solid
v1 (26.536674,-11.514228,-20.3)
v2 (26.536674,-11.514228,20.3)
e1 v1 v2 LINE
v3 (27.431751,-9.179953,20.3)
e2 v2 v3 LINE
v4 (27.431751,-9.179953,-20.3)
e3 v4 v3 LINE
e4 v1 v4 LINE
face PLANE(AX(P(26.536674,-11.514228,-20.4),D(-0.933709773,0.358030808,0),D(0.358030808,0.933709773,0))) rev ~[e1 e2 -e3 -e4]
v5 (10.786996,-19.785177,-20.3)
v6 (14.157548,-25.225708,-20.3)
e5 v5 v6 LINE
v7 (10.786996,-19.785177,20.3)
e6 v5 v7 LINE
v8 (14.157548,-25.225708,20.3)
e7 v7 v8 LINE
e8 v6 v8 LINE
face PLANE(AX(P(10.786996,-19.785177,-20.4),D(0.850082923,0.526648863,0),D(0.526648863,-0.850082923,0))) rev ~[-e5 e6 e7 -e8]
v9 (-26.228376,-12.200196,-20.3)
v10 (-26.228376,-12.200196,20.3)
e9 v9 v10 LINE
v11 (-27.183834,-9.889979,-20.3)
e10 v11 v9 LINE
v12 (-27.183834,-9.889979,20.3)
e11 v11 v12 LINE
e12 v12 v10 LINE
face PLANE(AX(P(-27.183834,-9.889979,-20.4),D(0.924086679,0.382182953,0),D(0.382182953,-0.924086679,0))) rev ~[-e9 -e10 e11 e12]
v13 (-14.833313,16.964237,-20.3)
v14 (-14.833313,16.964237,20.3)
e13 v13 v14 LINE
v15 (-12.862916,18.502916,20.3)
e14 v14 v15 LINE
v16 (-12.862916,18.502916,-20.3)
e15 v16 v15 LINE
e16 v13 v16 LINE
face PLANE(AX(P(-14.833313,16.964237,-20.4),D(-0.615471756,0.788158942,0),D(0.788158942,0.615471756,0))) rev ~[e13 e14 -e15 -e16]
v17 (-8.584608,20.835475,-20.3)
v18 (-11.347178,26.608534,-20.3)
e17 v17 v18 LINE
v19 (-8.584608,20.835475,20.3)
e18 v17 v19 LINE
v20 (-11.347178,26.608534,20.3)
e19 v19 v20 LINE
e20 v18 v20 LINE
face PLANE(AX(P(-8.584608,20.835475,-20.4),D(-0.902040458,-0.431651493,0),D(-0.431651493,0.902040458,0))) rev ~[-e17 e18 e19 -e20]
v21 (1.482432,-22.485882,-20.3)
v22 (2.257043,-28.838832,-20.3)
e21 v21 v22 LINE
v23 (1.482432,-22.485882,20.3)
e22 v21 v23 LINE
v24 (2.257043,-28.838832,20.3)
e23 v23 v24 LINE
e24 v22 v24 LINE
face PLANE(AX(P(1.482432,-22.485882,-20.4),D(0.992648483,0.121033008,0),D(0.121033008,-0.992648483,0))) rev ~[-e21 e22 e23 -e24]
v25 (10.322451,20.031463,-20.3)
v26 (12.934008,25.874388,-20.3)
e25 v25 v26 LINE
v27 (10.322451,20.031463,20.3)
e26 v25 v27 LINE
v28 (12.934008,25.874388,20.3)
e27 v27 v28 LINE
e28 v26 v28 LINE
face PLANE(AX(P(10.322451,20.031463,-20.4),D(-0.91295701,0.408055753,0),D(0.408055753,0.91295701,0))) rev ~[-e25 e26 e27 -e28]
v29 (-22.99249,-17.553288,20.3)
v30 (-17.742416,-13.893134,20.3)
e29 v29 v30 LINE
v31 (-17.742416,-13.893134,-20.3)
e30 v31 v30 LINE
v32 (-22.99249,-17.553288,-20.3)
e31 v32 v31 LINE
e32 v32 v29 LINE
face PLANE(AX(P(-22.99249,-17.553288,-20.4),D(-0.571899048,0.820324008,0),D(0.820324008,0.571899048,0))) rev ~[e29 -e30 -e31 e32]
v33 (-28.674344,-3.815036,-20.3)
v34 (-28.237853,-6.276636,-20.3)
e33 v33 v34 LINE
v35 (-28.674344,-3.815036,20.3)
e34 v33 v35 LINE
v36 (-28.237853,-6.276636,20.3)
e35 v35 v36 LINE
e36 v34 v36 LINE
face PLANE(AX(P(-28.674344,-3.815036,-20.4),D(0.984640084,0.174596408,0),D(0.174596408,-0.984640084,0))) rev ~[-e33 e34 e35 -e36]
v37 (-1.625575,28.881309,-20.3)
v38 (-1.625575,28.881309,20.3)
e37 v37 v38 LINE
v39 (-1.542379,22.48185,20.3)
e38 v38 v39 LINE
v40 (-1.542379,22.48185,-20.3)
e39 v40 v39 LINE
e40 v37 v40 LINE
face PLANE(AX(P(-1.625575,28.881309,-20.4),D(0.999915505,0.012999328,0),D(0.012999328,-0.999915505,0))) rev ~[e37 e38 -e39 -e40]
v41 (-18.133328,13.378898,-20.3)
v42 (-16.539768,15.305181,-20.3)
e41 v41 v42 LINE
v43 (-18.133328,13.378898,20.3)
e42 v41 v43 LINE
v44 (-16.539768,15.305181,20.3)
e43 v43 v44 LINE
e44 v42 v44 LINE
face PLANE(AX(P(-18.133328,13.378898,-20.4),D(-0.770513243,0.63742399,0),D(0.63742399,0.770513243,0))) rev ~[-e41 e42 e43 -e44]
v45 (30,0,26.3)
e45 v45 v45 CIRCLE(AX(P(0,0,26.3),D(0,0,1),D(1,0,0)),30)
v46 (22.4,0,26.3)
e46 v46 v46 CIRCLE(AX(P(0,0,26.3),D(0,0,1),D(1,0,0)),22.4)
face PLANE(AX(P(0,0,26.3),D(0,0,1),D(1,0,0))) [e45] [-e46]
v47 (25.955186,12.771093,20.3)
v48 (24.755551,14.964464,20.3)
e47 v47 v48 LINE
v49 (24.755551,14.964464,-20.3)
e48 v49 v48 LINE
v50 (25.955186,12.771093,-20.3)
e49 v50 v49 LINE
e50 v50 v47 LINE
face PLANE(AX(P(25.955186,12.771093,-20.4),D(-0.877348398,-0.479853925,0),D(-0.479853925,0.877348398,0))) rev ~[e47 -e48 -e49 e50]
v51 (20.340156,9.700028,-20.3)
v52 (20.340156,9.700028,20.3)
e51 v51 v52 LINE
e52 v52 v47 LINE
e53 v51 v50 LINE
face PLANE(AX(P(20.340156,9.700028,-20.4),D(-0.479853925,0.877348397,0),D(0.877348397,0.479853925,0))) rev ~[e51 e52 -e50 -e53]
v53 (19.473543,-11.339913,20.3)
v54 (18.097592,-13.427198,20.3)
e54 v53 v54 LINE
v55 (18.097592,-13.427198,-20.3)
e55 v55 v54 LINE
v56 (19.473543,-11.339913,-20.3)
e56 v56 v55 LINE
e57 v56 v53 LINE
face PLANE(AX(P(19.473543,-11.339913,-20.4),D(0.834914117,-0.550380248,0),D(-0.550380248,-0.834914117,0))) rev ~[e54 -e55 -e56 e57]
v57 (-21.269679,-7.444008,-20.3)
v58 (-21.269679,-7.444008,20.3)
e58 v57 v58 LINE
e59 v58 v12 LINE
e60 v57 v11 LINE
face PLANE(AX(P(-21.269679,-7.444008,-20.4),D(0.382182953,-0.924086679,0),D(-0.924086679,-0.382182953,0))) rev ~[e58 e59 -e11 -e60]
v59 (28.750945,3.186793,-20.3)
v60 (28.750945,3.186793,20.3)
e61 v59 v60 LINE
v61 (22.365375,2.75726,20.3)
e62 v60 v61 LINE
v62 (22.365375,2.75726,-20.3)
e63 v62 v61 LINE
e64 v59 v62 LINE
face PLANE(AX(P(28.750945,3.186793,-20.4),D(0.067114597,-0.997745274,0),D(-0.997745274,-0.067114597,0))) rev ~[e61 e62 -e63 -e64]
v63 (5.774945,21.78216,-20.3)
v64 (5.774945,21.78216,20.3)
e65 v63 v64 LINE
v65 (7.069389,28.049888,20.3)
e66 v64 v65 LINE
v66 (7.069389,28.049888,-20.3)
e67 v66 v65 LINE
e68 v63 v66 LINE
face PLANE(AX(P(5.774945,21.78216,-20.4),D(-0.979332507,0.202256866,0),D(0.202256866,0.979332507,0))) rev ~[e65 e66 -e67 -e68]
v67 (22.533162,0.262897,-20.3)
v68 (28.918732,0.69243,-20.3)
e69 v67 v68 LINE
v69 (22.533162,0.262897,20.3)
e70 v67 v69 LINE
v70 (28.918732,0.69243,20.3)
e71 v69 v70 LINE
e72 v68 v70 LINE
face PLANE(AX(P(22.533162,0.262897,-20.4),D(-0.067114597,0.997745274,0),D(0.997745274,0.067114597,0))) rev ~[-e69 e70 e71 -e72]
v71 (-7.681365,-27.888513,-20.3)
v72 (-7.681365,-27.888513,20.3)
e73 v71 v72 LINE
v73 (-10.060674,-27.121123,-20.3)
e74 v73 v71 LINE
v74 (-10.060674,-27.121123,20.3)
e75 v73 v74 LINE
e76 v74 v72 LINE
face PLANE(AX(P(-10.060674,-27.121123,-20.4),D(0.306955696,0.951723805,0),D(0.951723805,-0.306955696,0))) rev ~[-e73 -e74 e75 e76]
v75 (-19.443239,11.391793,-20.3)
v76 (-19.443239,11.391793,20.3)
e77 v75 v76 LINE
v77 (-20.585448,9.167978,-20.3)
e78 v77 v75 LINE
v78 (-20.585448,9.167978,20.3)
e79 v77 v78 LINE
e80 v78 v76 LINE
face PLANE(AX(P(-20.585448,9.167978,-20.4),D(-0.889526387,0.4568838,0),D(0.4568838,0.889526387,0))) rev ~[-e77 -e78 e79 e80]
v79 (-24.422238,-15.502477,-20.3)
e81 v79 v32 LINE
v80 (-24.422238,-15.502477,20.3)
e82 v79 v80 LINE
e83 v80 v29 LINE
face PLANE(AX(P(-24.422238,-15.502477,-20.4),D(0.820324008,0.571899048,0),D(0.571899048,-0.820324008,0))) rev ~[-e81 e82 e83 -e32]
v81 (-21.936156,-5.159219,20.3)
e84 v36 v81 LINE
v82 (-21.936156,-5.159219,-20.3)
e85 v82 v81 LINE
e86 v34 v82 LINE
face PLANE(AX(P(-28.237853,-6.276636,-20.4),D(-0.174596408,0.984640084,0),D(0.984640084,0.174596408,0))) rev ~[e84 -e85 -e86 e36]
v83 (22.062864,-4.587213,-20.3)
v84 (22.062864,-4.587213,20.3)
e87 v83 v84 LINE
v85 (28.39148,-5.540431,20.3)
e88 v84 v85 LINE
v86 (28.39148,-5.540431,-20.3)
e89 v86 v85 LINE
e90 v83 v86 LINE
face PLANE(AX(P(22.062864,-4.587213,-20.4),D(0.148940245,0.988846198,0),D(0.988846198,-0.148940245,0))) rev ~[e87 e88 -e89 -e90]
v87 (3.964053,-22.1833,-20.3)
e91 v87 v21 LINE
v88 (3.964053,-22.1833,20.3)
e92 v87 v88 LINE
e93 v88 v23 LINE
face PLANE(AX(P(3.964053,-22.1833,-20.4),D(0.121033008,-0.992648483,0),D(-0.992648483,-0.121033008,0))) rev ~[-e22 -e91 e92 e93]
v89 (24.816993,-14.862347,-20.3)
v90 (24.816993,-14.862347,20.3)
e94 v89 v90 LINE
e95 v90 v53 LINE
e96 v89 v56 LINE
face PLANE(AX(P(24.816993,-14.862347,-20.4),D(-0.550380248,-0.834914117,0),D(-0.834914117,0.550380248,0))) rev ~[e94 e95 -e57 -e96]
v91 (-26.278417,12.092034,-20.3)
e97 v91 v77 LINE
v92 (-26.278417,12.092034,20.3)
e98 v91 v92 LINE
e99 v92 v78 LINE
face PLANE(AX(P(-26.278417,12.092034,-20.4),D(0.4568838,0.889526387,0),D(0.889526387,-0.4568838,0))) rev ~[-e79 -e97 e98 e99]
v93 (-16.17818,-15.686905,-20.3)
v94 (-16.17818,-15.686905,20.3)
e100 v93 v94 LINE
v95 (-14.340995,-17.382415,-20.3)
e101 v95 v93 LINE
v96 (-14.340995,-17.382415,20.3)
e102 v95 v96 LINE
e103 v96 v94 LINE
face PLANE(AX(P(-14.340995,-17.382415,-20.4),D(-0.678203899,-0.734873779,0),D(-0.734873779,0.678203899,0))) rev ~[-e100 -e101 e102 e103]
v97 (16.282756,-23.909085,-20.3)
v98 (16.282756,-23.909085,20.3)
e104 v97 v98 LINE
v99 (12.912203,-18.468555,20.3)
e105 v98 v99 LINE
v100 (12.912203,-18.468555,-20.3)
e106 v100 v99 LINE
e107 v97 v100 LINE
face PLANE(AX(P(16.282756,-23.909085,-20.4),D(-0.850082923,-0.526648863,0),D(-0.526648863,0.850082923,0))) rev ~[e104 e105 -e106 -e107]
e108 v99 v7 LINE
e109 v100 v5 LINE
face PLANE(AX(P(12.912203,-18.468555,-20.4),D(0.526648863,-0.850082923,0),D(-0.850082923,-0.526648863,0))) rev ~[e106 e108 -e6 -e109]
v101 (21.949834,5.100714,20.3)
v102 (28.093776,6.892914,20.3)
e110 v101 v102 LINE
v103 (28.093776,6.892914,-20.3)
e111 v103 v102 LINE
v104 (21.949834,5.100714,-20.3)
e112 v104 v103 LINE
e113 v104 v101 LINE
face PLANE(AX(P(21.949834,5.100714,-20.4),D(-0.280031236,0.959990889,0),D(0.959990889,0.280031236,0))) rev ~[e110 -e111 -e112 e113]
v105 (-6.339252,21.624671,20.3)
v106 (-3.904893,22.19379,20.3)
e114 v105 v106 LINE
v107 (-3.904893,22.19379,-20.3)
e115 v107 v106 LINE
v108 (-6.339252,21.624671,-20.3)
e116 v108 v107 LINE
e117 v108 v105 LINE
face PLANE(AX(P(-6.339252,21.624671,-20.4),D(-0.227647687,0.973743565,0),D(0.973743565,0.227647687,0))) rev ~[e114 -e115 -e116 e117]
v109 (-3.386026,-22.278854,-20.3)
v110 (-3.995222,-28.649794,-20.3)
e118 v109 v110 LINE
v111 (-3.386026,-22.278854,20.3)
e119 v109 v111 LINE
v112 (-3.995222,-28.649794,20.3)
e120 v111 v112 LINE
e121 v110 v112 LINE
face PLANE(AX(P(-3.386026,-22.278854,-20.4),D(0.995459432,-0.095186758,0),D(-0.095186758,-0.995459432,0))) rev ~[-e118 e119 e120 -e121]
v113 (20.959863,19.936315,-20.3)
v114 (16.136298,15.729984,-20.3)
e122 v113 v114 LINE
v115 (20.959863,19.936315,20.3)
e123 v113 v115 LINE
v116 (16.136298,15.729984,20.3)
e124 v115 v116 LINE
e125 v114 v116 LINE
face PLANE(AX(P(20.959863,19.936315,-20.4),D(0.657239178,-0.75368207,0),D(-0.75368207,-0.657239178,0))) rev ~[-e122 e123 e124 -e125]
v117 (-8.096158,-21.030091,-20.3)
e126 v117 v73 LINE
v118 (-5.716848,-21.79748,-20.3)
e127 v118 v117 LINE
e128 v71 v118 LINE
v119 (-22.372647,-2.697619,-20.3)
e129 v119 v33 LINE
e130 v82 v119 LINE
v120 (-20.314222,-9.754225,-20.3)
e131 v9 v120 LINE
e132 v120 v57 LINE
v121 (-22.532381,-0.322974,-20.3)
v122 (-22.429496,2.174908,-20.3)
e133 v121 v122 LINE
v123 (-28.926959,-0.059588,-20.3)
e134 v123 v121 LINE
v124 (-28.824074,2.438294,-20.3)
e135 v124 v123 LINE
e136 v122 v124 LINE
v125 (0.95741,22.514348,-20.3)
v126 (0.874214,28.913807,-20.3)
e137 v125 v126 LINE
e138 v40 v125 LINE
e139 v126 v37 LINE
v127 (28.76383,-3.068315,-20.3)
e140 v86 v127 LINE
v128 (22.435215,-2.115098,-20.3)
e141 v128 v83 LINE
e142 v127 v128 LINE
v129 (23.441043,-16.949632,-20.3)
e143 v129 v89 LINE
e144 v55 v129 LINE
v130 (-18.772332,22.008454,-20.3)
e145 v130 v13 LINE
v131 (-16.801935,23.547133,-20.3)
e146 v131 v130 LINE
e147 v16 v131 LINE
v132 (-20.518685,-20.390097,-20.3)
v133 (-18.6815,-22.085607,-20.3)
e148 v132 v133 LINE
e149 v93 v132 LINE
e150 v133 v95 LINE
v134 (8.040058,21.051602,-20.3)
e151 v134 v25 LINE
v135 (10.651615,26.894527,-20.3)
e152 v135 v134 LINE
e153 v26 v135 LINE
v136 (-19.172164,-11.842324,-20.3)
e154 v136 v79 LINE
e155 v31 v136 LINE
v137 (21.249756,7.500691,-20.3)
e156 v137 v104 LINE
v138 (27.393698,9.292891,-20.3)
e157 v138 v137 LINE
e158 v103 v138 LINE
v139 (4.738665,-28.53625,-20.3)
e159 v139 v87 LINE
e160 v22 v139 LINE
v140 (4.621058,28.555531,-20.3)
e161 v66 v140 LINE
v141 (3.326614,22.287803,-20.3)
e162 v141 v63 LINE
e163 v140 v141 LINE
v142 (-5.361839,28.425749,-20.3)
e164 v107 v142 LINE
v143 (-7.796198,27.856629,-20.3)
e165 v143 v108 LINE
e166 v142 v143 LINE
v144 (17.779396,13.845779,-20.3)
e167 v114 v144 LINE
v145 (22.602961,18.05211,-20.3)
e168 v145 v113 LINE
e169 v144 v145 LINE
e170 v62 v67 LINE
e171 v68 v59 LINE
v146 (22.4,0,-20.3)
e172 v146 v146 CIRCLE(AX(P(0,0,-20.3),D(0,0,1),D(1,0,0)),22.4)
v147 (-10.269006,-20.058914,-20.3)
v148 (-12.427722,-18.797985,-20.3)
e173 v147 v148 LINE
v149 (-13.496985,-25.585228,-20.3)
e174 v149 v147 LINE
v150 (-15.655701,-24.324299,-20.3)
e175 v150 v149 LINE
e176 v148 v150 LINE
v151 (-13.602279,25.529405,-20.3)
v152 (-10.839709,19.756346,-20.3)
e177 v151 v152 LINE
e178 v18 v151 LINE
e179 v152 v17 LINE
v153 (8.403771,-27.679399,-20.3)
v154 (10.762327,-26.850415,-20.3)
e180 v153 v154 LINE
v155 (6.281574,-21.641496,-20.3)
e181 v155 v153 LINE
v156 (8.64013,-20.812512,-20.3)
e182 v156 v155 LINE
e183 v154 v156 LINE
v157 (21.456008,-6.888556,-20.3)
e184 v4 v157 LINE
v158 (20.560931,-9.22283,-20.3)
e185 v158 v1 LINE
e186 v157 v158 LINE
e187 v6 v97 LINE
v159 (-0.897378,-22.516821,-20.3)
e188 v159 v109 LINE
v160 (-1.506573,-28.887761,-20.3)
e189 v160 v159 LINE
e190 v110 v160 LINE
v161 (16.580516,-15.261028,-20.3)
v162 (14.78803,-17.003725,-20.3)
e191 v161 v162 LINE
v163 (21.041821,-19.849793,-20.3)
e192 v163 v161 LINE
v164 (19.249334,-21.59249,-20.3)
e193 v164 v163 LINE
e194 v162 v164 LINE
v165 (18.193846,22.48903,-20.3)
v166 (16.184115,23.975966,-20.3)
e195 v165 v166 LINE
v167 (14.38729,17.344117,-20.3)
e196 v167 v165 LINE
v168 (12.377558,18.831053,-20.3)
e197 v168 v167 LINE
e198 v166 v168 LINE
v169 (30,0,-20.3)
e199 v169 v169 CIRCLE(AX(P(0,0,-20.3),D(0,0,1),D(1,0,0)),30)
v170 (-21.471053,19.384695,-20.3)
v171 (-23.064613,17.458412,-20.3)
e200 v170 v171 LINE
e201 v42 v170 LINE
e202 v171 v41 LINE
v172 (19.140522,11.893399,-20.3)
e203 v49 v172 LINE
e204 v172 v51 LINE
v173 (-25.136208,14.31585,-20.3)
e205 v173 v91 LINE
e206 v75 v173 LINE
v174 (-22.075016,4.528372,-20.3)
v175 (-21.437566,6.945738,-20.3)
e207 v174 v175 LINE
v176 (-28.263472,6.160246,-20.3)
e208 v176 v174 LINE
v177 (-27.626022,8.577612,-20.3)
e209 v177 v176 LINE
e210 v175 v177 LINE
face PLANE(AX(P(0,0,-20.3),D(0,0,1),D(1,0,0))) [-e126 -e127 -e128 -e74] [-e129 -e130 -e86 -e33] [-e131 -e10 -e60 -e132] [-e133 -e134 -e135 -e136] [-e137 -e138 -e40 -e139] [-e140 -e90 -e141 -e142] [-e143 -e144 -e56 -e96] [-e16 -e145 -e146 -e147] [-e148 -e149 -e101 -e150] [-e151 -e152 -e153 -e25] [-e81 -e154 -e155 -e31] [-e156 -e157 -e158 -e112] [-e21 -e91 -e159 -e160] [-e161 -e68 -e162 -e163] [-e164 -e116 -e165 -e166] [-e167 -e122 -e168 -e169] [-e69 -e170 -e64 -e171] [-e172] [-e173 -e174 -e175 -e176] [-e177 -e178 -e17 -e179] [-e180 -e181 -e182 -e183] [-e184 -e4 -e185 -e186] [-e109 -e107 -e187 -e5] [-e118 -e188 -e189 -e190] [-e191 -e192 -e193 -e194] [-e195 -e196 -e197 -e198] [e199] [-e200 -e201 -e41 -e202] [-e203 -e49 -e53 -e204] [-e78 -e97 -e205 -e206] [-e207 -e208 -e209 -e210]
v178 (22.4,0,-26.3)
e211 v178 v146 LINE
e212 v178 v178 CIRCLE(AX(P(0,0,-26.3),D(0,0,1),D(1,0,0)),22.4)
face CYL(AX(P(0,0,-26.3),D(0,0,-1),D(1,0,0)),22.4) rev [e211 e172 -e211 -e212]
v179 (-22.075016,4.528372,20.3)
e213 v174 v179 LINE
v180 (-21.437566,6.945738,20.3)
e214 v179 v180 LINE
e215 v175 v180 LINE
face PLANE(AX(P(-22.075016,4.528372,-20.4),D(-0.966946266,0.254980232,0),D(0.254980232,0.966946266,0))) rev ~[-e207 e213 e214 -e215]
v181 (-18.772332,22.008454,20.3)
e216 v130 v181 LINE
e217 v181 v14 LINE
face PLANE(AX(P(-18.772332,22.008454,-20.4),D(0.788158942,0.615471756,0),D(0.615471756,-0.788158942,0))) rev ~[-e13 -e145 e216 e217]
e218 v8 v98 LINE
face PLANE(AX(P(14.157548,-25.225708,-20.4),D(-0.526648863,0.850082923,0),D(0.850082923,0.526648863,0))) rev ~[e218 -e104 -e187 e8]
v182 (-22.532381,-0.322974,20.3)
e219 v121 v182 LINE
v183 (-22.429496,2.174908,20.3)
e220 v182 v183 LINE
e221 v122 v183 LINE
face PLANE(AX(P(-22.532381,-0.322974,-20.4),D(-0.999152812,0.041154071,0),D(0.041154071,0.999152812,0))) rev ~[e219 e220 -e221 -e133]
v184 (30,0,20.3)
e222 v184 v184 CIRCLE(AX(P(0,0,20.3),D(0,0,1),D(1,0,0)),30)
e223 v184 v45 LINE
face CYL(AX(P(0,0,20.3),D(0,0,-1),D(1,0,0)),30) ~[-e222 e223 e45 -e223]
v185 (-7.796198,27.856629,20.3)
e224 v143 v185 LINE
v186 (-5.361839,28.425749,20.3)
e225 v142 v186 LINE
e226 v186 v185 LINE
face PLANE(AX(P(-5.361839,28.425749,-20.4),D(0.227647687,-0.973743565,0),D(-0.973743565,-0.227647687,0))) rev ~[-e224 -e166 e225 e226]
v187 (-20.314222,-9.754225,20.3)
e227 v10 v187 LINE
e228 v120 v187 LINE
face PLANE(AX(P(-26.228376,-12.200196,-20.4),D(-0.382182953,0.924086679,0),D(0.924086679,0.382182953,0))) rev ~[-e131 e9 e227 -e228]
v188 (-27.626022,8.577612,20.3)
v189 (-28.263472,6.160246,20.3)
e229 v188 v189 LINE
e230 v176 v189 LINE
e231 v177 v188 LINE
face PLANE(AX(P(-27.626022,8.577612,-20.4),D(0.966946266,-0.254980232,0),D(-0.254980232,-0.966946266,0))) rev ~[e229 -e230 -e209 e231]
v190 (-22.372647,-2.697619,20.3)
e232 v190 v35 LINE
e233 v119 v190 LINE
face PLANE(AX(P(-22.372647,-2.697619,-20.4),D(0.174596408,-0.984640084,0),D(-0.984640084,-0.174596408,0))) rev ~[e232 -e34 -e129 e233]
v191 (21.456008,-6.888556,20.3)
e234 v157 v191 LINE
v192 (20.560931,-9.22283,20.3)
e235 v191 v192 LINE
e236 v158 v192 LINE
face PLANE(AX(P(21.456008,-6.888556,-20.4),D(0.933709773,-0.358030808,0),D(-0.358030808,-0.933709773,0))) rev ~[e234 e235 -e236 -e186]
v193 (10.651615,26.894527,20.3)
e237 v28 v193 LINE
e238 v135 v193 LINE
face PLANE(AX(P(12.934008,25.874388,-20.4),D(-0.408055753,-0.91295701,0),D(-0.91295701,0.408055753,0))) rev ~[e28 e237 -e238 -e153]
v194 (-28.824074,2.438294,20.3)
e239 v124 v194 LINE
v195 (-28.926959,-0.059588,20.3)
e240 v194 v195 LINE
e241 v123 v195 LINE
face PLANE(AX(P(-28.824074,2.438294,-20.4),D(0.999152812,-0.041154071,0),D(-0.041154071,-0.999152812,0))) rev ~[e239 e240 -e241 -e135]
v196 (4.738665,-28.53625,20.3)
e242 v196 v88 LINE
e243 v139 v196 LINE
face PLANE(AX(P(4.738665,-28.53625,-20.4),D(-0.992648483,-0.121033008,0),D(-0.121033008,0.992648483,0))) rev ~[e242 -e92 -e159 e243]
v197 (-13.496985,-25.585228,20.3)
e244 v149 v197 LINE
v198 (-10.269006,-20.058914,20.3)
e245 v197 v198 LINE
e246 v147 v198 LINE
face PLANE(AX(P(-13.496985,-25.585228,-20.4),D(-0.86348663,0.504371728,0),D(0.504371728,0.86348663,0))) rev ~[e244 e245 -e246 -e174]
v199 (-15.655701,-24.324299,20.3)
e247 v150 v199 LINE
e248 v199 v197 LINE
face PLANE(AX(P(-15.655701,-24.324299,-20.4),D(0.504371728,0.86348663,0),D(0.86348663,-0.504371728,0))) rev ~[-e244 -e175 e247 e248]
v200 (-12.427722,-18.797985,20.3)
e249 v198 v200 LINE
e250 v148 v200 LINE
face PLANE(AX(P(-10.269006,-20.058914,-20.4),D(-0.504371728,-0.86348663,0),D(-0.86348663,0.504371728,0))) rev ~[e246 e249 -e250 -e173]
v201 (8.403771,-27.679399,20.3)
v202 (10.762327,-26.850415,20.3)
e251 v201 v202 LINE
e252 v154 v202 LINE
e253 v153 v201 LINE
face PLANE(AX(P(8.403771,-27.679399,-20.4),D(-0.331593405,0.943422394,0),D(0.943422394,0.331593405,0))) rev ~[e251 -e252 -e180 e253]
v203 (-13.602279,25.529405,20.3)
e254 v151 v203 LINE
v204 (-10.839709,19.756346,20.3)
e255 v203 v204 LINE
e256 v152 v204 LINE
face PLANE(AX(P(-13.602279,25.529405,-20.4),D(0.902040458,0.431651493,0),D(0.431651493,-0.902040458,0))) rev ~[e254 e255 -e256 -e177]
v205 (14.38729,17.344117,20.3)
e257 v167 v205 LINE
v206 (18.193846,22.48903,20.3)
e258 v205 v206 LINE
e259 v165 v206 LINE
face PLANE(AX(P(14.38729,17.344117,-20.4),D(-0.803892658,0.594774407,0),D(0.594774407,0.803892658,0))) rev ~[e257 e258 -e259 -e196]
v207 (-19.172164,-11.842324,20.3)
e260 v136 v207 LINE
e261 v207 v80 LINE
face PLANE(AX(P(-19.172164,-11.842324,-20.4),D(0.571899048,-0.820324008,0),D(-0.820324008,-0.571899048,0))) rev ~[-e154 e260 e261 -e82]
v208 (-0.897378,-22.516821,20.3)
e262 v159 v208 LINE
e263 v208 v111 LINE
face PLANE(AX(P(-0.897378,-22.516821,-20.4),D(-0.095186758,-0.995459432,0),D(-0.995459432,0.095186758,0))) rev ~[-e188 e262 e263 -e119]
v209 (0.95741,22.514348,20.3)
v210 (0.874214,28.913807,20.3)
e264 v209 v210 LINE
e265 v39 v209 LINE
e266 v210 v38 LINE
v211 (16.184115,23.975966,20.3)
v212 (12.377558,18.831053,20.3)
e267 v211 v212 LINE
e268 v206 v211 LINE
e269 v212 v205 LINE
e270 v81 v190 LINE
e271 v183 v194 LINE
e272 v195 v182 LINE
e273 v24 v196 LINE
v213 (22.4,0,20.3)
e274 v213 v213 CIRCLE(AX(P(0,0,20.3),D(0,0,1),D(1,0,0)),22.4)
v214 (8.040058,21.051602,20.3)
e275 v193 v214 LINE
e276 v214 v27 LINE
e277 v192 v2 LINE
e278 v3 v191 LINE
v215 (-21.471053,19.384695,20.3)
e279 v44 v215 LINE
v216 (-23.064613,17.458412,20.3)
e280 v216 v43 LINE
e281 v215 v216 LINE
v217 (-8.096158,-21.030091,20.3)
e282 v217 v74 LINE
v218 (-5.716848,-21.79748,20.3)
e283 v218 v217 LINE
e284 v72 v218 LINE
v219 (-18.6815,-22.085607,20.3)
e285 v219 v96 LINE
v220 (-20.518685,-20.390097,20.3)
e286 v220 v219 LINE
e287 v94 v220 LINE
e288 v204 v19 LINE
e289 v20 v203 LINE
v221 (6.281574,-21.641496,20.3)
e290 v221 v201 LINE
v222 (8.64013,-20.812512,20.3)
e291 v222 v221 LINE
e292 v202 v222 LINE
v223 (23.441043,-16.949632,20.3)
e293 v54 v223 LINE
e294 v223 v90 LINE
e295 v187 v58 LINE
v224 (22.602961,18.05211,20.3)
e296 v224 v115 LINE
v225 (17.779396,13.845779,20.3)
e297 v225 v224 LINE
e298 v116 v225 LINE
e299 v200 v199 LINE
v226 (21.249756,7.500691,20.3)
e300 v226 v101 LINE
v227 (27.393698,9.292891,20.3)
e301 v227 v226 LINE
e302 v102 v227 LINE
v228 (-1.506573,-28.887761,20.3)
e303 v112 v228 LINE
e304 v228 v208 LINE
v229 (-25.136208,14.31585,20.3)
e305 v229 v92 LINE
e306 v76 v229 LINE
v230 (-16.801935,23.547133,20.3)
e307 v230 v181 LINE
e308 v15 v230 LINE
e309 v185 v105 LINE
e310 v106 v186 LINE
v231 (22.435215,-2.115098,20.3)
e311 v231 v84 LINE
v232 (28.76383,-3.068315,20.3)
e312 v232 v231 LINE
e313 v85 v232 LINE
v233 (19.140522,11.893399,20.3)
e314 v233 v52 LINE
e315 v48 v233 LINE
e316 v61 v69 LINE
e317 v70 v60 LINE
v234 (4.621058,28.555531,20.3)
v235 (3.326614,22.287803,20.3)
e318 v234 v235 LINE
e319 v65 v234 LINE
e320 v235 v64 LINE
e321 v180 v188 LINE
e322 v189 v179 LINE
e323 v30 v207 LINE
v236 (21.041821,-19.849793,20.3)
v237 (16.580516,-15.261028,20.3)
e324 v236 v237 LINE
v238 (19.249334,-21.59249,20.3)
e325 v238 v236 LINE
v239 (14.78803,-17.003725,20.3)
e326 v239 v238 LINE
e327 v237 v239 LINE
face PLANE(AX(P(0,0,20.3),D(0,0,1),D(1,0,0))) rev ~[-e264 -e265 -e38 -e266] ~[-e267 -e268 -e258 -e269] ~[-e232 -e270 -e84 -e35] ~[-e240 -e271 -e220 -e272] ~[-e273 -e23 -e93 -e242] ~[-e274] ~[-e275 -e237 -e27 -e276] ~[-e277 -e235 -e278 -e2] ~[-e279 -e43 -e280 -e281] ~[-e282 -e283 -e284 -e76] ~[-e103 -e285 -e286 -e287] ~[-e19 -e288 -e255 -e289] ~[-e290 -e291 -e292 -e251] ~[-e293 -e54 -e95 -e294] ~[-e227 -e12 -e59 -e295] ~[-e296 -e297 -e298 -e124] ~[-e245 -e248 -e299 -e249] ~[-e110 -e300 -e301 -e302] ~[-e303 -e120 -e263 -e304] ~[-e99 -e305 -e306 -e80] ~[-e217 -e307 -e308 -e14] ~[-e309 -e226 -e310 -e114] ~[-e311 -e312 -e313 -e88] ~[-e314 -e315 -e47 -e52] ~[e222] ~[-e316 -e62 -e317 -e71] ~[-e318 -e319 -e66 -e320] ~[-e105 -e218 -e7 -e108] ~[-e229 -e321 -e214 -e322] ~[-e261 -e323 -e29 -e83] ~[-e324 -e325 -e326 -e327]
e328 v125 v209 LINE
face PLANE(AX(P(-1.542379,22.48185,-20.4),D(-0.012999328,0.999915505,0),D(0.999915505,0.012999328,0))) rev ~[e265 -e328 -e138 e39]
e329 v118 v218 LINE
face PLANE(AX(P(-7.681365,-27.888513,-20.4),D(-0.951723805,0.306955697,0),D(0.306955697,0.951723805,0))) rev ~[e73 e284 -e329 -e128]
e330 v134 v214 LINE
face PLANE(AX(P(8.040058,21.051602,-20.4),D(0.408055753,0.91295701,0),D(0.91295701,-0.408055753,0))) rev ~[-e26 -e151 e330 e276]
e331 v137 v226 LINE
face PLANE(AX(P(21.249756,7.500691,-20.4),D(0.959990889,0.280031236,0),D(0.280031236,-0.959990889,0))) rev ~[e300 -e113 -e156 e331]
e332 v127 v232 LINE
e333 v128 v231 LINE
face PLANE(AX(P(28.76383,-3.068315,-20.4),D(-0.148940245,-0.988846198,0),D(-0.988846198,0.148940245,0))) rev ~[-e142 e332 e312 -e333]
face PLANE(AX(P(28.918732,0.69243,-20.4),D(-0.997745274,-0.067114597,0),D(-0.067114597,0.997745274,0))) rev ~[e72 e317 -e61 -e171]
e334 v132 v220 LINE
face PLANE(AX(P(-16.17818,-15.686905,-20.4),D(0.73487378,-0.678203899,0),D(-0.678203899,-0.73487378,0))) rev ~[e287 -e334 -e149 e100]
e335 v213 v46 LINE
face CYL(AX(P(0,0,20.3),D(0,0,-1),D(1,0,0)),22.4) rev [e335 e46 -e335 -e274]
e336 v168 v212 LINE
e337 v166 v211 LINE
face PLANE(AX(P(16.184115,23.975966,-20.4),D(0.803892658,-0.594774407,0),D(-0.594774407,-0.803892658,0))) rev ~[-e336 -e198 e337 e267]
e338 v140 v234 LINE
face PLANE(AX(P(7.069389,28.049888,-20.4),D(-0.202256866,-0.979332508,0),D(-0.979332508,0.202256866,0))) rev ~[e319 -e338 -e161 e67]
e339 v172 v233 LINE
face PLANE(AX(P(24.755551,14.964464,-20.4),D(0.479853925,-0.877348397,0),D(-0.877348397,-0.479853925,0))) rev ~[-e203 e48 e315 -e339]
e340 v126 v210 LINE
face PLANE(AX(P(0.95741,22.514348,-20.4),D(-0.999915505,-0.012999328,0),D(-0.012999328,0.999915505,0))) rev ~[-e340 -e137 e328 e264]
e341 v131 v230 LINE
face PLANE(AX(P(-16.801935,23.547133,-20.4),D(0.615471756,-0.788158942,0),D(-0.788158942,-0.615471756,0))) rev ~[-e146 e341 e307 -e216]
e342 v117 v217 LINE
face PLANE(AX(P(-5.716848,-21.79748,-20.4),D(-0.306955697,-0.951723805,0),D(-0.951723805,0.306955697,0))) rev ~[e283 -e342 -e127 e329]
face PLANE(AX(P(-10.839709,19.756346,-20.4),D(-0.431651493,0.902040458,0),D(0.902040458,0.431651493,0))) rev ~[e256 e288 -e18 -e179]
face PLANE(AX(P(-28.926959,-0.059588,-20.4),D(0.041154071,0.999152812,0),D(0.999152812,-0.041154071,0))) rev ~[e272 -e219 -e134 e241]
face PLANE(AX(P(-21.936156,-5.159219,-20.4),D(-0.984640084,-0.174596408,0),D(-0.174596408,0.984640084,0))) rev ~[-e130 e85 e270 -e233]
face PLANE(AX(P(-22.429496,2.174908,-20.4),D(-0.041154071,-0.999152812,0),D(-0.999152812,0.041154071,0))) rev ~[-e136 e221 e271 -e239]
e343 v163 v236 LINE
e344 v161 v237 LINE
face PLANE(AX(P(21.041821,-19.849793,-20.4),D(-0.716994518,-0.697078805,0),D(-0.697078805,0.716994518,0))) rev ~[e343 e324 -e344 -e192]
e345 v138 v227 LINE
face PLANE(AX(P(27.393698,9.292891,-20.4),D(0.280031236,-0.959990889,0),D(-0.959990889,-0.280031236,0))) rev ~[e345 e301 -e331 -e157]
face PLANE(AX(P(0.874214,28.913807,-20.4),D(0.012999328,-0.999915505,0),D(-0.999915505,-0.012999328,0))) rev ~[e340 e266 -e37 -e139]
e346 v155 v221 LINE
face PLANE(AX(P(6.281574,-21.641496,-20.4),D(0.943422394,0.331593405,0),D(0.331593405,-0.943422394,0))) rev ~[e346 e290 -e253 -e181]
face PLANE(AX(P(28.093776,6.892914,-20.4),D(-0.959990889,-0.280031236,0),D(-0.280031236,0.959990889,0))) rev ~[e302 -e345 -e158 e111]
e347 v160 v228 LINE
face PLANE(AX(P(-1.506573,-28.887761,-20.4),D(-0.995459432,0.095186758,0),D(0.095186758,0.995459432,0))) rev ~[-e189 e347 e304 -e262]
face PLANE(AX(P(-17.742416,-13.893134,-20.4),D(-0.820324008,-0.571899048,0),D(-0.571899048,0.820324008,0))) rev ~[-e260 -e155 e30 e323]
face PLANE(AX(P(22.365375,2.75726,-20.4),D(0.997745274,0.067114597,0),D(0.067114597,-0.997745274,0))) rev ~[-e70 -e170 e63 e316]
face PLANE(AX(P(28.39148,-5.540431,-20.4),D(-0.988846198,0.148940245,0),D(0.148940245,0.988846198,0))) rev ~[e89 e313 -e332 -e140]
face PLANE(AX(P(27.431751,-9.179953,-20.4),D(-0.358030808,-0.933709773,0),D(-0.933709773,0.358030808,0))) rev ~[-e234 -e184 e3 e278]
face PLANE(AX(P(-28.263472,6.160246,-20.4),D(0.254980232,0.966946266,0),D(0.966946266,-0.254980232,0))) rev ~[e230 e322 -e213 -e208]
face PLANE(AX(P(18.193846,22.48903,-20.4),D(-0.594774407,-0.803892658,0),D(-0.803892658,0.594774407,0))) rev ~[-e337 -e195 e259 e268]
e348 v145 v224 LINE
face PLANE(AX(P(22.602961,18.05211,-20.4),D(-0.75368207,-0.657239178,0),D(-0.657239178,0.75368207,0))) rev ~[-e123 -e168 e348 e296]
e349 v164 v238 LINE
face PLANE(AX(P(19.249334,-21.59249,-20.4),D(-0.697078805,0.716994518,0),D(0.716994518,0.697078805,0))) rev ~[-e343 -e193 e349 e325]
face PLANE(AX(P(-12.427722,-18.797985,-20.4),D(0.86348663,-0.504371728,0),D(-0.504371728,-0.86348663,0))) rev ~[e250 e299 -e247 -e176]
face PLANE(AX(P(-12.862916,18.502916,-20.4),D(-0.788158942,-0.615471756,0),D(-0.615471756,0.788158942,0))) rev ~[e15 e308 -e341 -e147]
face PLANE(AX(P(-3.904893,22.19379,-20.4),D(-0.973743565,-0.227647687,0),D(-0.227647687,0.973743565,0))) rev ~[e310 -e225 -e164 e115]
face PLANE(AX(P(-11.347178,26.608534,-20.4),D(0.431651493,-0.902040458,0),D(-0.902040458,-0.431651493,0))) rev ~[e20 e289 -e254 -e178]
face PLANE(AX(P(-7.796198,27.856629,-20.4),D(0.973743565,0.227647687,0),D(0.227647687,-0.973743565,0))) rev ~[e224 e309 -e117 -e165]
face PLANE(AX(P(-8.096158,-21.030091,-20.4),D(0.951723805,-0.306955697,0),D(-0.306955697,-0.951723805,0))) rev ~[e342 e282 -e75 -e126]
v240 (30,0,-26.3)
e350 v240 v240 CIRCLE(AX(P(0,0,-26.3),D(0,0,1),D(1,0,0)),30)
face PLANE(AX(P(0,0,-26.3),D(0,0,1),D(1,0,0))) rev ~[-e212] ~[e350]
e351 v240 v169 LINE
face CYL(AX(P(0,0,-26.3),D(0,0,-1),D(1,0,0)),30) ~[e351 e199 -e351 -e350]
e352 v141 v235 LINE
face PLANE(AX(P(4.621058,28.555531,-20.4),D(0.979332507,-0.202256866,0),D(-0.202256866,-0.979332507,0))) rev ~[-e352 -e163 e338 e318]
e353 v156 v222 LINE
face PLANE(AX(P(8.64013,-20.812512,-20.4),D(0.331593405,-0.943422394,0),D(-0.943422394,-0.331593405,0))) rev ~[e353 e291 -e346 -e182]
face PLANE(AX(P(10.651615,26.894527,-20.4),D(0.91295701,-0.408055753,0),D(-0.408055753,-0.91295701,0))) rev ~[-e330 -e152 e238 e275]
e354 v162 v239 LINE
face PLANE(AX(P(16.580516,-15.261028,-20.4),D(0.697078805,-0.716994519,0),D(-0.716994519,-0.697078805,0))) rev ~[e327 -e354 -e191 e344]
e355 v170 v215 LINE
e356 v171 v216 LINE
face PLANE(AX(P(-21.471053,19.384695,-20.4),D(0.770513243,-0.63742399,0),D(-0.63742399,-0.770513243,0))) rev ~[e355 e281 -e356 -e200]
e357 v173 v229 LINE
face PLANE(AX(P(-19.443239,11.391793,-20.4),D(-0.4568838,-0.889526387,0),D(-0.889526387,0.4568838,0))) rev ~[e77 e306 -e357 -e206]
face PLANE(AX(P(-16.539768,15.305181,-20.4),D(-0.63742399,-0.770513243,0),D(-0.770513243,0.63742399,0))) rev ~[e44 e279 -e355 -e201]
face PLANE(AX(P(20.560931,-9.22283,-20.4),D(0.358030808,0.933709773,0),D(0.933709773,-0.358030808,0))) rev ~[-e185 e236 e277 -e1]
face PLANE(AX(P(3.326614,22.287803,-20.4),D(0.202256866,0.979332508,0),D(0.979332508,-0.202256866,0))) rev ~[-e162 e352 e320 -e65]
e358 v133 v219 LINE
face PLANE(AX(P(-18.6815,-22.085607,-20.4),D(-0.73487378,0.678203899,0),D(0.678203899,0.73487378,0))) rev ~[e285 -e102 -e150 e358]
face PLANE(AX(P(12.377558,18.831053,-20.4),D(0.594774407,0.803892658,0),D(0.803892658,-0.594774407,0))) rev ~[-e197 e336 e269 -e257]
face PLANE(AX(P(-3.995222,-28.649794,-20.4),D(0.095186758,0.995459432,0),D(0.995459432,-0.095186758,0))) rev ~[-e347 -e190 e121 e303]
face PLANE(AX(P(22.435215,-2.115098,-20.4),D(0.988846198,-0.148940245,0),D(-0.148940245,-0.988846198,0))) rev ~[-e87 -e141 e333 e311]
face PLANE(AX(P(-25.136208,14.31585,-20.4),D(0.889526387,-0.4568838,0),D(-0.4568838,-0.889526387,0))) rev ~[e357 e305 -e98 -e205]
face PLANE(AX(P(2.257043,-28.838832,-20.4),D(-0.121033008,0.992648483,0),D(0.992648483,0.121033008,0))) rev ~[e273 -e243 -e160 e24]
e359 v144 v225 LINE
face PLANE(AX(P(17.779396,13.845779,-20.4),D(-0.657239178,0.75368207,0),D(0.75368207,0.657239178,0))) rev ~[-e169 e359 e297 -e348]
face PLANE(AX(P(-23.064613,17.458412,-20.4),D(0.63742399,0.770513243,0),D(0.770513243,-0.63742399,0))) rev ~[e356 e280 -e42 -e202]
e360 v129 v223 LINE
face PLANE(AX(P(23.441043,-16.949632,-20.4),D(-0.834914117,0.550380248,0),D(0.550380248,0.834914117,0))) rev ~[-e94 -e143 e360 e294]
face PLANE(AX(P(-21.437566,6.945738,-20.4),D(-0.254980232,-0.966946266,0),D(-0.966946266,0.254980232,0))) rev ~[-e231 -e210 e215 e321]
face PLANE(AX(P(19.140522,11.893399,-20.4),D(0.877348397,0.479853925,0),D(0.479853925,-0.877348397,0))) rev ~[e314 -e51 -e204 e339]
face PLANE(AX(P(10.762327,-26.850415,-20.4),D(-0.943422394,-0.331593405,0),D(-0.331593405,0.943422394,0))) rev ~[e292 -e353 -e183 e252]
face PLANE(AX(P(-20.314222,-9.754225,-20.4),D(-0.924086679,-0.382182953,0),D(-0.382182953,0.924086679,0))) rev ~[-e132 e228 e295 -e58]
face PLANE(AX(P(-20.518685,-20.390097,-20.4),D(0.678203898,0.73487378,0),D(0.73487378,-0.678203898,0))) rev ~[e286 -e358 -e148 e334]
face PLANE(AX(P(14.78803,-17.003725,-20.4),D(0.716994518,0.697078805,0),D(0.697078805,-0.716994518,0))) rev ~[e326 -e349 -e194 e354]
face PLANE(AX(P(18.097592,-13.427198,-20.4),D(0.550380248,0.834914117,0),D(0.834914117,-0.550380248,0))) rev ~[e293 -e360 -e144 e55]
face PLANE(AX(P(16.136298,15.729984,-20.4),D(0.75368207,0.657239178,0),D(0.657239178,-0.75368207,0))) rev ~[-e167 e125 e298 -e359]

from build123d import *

# Parameters (mm, degrees)
BARS_START           = -20.4
BARS_DEPTH           = 40.8
BARS_2_DEPTH         = 40.8
BARS_3_DEPTH         = 40.8
BARS_4_DEPTH         = 40.8
BARS_5_DEPTH         = 40.8
BARS_6_DEPTH         = 40.8
BARS_7_DEPTH         = 40.8
BARS_8_DEPTH         = 40.8
BARS_9_DEPTH         = 40.8
BARS_10_DEPTH        = 40.8
BARS_11_DEPTH        = 40.8
BARS_12_DEPTH        = 40.8
BARS_13_DEPTH        = 40.8
BARS_14_DEPTH        = 40.8
BARS_15_DEPTH        = 40.8
BARS_16_DEPTH        = 40.8
BARS_17_DEPTH        = 40.8
BARS_18_DEPTH        = 40.8
BARS_19_DEPTH        = 40.8
BARS_20_DEPTH        = 40.8
BARS_21_DEPTH        = 40.8
BARS_22_DEPTH        = 40.8
BARS_23_DEPTH        = 40.8
BARS_24_DEPTH        = 40.8
BARS_25_DEPTH        = 40.8
BARS_26_DEPTH        = 40.8
BARS_27_DEPTH        = 40.8
BARS_28_DEPTH        = 40.8
BARS_29_DEPTH        = 40.8
END_RING_FRONT_START = 20.3
SKETCH_2_R           = 30
SKETCH_2_R_2         = 22.4
END_RING_FRONT_DEPTH = 6
END_RING_REAR_START  = -26.3
SKETCH_3_R           = 30
SKETCH_3_R_2         = 22.4
END_RING_REAR_DEPTH  = 6


with BuildPart() as part:
    # Эскиз1 → Bars (new body)
    with BuildSketch(Plane.XY.offset(BARS_START)):
        Polygon((22.533161901, 0.262896843), (28.918731651, 0.692430264), (28.750945159, 3.186793448), (22.365375408, 2.757260027), align=None)
    extrude(amount=BARS_DEPTH)



with BuildPart() as body_2:
    # Эскиз1 → Bars 2 (new body)
    with BuildSketch(Plane.XY.offset(BARS_START)):
        Polygon((21.949834048, 5.100714194), (28.093775737, 6.892914103), (27.393697648, 9.292891325), (21.249755958, 7.500691416), align=None)
    extrude(amount=BARS_2_DEPTH)


with BuildPart() as body_3:
    # Эскиз1 → Bars 3 (new body)
    with BuildSketch(Plane.XY.offset(BARS_START)):
        Polygon((20.34015635, 9.700027818), (25.955186093, 12.771092939), (24.755551281, 14.964463933), (19.140521537, 11.893398812), align=None)
    extrude(amount=BARS_3_DEPTH)


with BuildPart() as body_4:
    # Эскиз1 → Bars 4 (new body)
    with BuildSketch(Plane.XY.offset(BARS_START)):
        Polygon((17.779395547, 13.845778923), (22.602960795, 18.052109663), (20.959862849, 19.936314838), (16.136297602, 15.729984098), align=None)
    extrude(amount=BARS_4_DEPTH)


with BuildPart() as body_5:
    # Эскиз1 → Bars 5 (new body)
    with BuildSketch(Plane.XY.offset(BARS_START)):
        Polygon((14.387289969, 17.344116793), (18.193846171, 22.489029803), (16.184114527, 23.97596582), (12.377558325, 18.83105281), align=None)
    extrude(amount=BARS_5_DEPTH)


with BuildPart() as body_6:
    # Эскиз1 → Bars 6 (new body)
    with BuildSketch(Plane.XY.offset(BARS_START)):
        Polygon((10.322450703, 20.031463039), (12.934007522, 25.874387904), (10.651614996, 26.894527287), (8.040058177, 21.051602421), align=None)
    extrude(amount=BARS_6_DEPTH)


with BuildPart() as body_7:
    # Эскиз1 → Bars 7 (new body)
    with BuildSketch(Plane.XY.offset(BARS_START)):
        Polygon((5.774945114, 21.782160337), (7.069389055, 28.049888385), (4.621057787, 28.555530549), (3.326613846, 22.287802501), align=None)
    extrude(amount=BARS_7_DEPTH)


with BuildPart() as body_8:
    # Эскиз1 → Bars 8 (new body)
    with BuildSketch(Plane.XY.offset(BARS_START)):
        Polygon((0.95740951, 22.514348026), (0.874213814, 28.913807259), (-1.625574949, 28.88130894), (-1.542379252, 22.481849707), align=None)
    extrude(amount=BARS_8_DEPTH)


with BuildPart() as body_9:
    # Эскиз1 → Bars 9 (new body)
    with BuildSketch(Plane.XY.offset(BARS_START)):
        Polygon((-3.904893498, 22.193789824), (-5.361838694, 28.425748641), (-7.796197607, 27.856629424), (-6.339252411, 21.624670607), align=None)
    extrude(amount=BARS_9_DEPTH)


with BuildPart() as body_10:
    # Эскиз1 → Bars 10 (new body)
    with BuildSketch(Plane.XY.offset(BARS_START)):
        Polygon((-8.584608027, 20.835474677), (-11.347177584, 26.60853361), (-13.602278729, 25.529404877), (-10.839709172, 19.756345944), align=None)
    extrude(amount=BARS_10_DEPTH)


with BuildPart() as body_11:
    # Эскиз1 → Bars 11 (new body)
    with BuildSketch(Plane.XY.offset(BARS_START)):
        Polygon((-12.862915825, 18.502915891), (-16.801935061, 23.547133121), (-18.772332416, 22.008453732), (-14.83331318, 16.964236502), align=None)
    extrude(amount=BARS_11_DEPTH)


with BuildPart() as body_12:
    # Эскиз1 → Bars 12 (new body)
    with BuildSketch(Plane.XY.offset(BARS_START)):
        Polygon((-16.539767975, 15.305181323), (-21.471052729, 19.384694857), (-23.064612703, 17.45841175), (-18.13332795, 13.378898216), align=None)
    extrude(amount=BARS_12_DEPTH)


with BuildPart() as body_13:
    # Эскиз1 → Bars 13 (new body)
    with BuildSketch(Plane.XY.offset(BARS_START)):
        Polygon((-19.443238958, 11.391793486), (-25.136207835, 14.315849807), (-26.278417335, 12.092033839), (-20.585448458, 9.167977519), align=None)
    extrude(amount=BARS_13_DEPTH)


with BuildPart() as body_14:
    # Эскиз1 → Bars 14 (new body)
    with BuildSketch(Plane.XY.offset(BARS_START)):
        Polygon((-21.437565696, 6.945738047), (-27.626021799, 8.57761153), (-28.263472378, 6.160245865), (-22.075016276, 4.528372382), align=None)
    extrude(amount=BARS_14_DEPTH)


with BuildPart() as body_15:
    # Эскиз1 → Bars 15 (new body)
    with BuildSketch(Plane.XY.offset(BARS_START)):
        Polygon((-22.429495689, 2.174907617), (-28.824073688, 2.438293672), (-28.926958866, -0.059588359), (-22.532380867, -0.322974414), align=None)
    extrude(amount=BARS_15_DEPTH)


with BuildPart() as body_16:
    # Эскиз1 → Bars 16 (new body)
    with BuildSketch(Plane.XY.offset(BARS_START)):
        Polygon((-22.372647392, -2.697619077), (-28.674343927, -3.815036088), (-28.237852907, -6.276636298), (-21.936156372, -5.159219286), align=None)
    extrude(amount=BARS_16_DEPTH)


with BuildPart() as body_17:
    # Эскиз1 → Bars 17 (new body)
    with BuildSketch(Plane.XY.offset(BARS_START)):
        Polygon((-21.269678968, -7.4440081), (-27.183833713, -9.889979002), (-26.22837633, -12.200195699), (-20.314221585, -9.754224798), align=None)
    extrude(amount=BARS_17_DEPTH)


with BuildPart() as body_18:
    # Эскиз1 → Bars 18 (new body)
    with BuildSketch(Plane.XY.offset(BARS_START)):
        Polygon((-19.172163995, -11.842323579), (-24.422237648, -15.502477488), (-22.992490027, -17.553287509), (-17.742416374, -13.893133599), align=None)
    extrude(amount=BARS_18_DEPTH)


with BuildPart() as body_19:
    # Эскиз1 → Bars 19 (new body)
    with BuildSketch(Plane.XY.offset(BARS_START)):
        Polygon((-16.178179942, -15.686905168), (-20.518684893, -20.390097358), (-18.681500444, -22.085607104), (-14.340995493, -17.382414915), align=None)
    extrude(amount=BARS_19_DEPTH)


with BuildPart() as body_20:
    # Эскиз1 → Bars 20 (new body)
    with BuildSketch(Plane.XY.offset(BARS_START)):
        Polygon((-12.427722176, -18.797984507), (-15.655701238, -24.324298936), (-13.496984664, -25.585228257), (-10.269005602, -20.058913828), align=None)
    extrude(amount=BARS_20_DEPTH)


with BuildPart() as body_21:
    # Эскиз1 → Bars 21 (new body)
    with BuildSketch(Plane.XY.offset(BARS_START)):
        Polygon((-8.096157933, -21.030090982), (-10.060674393, -27.121123332), (-7.681364881, -27.888512573), (-5.716848422, -21.797480224), align=None)
    extrude(amount=BARS_21_DEPTH)


with BuildPart() as body_22:
    # Эскиз1 → Bars 22 (new body)
    with BuildSketch(Plane.XY.offset(BARS_START)):
        Polygon((-3.386026344, -22.278853777), (-3.995221595, -28.649794143), (-1.506573014, -28.887761037), (-0.897377763, -22.516820671), align=None)
    extrude(amount=BARS_22_DEPTH)


with BuildPart() as body_23:
    # Эскиз1 → Bars 23 (new body)
    with BuildSketch(Plane.XY.offset(BARS_START)):
        Polygon((1.482432074, -22.48588213), (2.257043325, -28.838832421), (4.738664533, -28.536249902), (3.964053282, -22.18329961), align=None)
    extrude(amount=BARS_23_DEPTH)


with BuildPart() as body_24:
    # Эскиз1 → Bars 24 (new body)
    with BuildSketch(Plane.XY.offset(BARS_START)):
        Polygon((6.281573616, -21.641495625), (8.403771407, -27.679398948), (10.762327392, -26.850415436), (8.640129601, -20.812512113), align=None)
    extrude(amount=BARS_24_DEPTH)


with BuildPart() as body_25:
    # Эскиз1 → Bars 25 (new body)
    with BuildSketch(Plane.XY.offset(BARS_START)):
        Polygon((10.786995757, -19.785176839), (14.157548478, -25.225707544), (16.282755785, -23.909085387), (12.912203064, -18.468554682), align=None)
    extrude(amount=BARS_25_DEPTH)


with BuildPart() as body_26:
    # Эскиз1 → Bars 26 (new body)
    with BuildSketch(Plane.XY.offset(BARS_START)):
        Polygon((14.788029965, -17.003725173), (19.249334318, -21.592490091), (21.041820614, -19.849793078), (16.580516262, -15.26102816), align=None)
    extrude(amount=BARS_26_DEPTH)


with BuildPart() as body_27:
    # Эскиз1 → Bars 27 (new body)
    with BuildSketch(Plane.XY.offset(BARS_START)):
        Polygon((18.097592328, -13.427198216), (23.441042678, -16.9496318), (24.816993297, -14.862346507), (19.473542947, -11.339912923), align=None)
    extrude(amount=BARS_27_DEPTH)


with BuildPart() as body_28:
    # Эскиз1 → Bars 28 (new body)
    with BuildSketch(Plane.XY.offset(BARS_START)):
        Polygon((20.560931388, -9.222830393), (26.536673936, -11.514227564), (27.431750956, -9.179953131), (21.456008407, -6.88855596), align=None)
    extrude(amount=BARS_28_DEPTH)


with BuildPart() as body_29:
    # Эскиз1 → Bars 29 (new body)
    with BuildSketch(Plane.XY.offset(BARS_START)):
        Polygon((22.062864148, -4.587213273), (28.391479815, -5.540430844), (28.763830428, -3.068315349), (22.435214761, -2.115097778), align=None)
    extrude(amount=BARS_29_DEPTH)


with BuildPart() as part_1:
    add(part.part)

    add(body_2.part)  # End_ring_front merges body 2

    add(body_3.part)  # End_ring_front merges body 3

    add(body_4.part)  # End_ring_front merges body 4

    add(body_5.part)  # End_ring_front merges body 5

    add(body_6.part)  # End_ring_front merges body 6

    add(body_7.part)  # End_ring_front merges body 7

    add(body_8.part)  # End_ring_front merges body 8

    add(body_9.part)  # End_ring_front merges body 9

    add(body_10.part)  # End_ring_front merges body 10

    add(body_11.part)  # End_ring_front merges body 11

    add(body_12.part)  # End_ring_front merges body 12

    add(body_13.part)  # End_ring_front merges body 13

    add(body_14.part)  # End_ring_front merges body 14

    add(body_15.part)  # End_ring_front merges body 15

    add(body_16.part)  # End_ring_front merges body 16

    add(body_17.part)  # End_ring_front merges body 17

    add(body_18.part)  # End_ring_front merges body 18

    add(body_19.part)  # End_ring_front merges body 19

    add(body_20.part)  # End_ring_front merges body 20

    add(body_21.part)  # End_ring_front merges body 21

    add(body_22.part)  # End_ring_front merges body 22

    add(body_23.part)  # End_ring_front merges body 23

    add(body_24.part)  # End_ring_front merges body 24

    add(body_25.part)  # End_ring_front merges body 25

    add(body_26.part)  # End_ring_front merges body 26

    add(body_27.part)  # End_ring_front merges body 27

    add(body_28.part)  # End_ring_front merges body 28

    add(body_29.part)  # End_ring_front merges body 29
    # Эскиз2 → End_ring_front (add)
    with BuildSketch(Plane.XY.offset(END_RING_FRONT_START)):
        Circle(SKETCH_2_R)
        Circle(SKETCH_2_R_2, mode=Mode.SUBTRACT)
    extrude(amount=END_RING_FRONT_DEPTH)

    # Эскиз3 → End_ring_rear (add)
    with BuildSketch(Plane.XY.offset(END_RING_REAR_START)):
        Circle(SKETCH_3_R)
        Circle(SKETCH_3_R_2, mode=Mode.SUBTRACT)
    extrude(amount=END_RING_REAR_DEPTH)


solid = part_1.part
